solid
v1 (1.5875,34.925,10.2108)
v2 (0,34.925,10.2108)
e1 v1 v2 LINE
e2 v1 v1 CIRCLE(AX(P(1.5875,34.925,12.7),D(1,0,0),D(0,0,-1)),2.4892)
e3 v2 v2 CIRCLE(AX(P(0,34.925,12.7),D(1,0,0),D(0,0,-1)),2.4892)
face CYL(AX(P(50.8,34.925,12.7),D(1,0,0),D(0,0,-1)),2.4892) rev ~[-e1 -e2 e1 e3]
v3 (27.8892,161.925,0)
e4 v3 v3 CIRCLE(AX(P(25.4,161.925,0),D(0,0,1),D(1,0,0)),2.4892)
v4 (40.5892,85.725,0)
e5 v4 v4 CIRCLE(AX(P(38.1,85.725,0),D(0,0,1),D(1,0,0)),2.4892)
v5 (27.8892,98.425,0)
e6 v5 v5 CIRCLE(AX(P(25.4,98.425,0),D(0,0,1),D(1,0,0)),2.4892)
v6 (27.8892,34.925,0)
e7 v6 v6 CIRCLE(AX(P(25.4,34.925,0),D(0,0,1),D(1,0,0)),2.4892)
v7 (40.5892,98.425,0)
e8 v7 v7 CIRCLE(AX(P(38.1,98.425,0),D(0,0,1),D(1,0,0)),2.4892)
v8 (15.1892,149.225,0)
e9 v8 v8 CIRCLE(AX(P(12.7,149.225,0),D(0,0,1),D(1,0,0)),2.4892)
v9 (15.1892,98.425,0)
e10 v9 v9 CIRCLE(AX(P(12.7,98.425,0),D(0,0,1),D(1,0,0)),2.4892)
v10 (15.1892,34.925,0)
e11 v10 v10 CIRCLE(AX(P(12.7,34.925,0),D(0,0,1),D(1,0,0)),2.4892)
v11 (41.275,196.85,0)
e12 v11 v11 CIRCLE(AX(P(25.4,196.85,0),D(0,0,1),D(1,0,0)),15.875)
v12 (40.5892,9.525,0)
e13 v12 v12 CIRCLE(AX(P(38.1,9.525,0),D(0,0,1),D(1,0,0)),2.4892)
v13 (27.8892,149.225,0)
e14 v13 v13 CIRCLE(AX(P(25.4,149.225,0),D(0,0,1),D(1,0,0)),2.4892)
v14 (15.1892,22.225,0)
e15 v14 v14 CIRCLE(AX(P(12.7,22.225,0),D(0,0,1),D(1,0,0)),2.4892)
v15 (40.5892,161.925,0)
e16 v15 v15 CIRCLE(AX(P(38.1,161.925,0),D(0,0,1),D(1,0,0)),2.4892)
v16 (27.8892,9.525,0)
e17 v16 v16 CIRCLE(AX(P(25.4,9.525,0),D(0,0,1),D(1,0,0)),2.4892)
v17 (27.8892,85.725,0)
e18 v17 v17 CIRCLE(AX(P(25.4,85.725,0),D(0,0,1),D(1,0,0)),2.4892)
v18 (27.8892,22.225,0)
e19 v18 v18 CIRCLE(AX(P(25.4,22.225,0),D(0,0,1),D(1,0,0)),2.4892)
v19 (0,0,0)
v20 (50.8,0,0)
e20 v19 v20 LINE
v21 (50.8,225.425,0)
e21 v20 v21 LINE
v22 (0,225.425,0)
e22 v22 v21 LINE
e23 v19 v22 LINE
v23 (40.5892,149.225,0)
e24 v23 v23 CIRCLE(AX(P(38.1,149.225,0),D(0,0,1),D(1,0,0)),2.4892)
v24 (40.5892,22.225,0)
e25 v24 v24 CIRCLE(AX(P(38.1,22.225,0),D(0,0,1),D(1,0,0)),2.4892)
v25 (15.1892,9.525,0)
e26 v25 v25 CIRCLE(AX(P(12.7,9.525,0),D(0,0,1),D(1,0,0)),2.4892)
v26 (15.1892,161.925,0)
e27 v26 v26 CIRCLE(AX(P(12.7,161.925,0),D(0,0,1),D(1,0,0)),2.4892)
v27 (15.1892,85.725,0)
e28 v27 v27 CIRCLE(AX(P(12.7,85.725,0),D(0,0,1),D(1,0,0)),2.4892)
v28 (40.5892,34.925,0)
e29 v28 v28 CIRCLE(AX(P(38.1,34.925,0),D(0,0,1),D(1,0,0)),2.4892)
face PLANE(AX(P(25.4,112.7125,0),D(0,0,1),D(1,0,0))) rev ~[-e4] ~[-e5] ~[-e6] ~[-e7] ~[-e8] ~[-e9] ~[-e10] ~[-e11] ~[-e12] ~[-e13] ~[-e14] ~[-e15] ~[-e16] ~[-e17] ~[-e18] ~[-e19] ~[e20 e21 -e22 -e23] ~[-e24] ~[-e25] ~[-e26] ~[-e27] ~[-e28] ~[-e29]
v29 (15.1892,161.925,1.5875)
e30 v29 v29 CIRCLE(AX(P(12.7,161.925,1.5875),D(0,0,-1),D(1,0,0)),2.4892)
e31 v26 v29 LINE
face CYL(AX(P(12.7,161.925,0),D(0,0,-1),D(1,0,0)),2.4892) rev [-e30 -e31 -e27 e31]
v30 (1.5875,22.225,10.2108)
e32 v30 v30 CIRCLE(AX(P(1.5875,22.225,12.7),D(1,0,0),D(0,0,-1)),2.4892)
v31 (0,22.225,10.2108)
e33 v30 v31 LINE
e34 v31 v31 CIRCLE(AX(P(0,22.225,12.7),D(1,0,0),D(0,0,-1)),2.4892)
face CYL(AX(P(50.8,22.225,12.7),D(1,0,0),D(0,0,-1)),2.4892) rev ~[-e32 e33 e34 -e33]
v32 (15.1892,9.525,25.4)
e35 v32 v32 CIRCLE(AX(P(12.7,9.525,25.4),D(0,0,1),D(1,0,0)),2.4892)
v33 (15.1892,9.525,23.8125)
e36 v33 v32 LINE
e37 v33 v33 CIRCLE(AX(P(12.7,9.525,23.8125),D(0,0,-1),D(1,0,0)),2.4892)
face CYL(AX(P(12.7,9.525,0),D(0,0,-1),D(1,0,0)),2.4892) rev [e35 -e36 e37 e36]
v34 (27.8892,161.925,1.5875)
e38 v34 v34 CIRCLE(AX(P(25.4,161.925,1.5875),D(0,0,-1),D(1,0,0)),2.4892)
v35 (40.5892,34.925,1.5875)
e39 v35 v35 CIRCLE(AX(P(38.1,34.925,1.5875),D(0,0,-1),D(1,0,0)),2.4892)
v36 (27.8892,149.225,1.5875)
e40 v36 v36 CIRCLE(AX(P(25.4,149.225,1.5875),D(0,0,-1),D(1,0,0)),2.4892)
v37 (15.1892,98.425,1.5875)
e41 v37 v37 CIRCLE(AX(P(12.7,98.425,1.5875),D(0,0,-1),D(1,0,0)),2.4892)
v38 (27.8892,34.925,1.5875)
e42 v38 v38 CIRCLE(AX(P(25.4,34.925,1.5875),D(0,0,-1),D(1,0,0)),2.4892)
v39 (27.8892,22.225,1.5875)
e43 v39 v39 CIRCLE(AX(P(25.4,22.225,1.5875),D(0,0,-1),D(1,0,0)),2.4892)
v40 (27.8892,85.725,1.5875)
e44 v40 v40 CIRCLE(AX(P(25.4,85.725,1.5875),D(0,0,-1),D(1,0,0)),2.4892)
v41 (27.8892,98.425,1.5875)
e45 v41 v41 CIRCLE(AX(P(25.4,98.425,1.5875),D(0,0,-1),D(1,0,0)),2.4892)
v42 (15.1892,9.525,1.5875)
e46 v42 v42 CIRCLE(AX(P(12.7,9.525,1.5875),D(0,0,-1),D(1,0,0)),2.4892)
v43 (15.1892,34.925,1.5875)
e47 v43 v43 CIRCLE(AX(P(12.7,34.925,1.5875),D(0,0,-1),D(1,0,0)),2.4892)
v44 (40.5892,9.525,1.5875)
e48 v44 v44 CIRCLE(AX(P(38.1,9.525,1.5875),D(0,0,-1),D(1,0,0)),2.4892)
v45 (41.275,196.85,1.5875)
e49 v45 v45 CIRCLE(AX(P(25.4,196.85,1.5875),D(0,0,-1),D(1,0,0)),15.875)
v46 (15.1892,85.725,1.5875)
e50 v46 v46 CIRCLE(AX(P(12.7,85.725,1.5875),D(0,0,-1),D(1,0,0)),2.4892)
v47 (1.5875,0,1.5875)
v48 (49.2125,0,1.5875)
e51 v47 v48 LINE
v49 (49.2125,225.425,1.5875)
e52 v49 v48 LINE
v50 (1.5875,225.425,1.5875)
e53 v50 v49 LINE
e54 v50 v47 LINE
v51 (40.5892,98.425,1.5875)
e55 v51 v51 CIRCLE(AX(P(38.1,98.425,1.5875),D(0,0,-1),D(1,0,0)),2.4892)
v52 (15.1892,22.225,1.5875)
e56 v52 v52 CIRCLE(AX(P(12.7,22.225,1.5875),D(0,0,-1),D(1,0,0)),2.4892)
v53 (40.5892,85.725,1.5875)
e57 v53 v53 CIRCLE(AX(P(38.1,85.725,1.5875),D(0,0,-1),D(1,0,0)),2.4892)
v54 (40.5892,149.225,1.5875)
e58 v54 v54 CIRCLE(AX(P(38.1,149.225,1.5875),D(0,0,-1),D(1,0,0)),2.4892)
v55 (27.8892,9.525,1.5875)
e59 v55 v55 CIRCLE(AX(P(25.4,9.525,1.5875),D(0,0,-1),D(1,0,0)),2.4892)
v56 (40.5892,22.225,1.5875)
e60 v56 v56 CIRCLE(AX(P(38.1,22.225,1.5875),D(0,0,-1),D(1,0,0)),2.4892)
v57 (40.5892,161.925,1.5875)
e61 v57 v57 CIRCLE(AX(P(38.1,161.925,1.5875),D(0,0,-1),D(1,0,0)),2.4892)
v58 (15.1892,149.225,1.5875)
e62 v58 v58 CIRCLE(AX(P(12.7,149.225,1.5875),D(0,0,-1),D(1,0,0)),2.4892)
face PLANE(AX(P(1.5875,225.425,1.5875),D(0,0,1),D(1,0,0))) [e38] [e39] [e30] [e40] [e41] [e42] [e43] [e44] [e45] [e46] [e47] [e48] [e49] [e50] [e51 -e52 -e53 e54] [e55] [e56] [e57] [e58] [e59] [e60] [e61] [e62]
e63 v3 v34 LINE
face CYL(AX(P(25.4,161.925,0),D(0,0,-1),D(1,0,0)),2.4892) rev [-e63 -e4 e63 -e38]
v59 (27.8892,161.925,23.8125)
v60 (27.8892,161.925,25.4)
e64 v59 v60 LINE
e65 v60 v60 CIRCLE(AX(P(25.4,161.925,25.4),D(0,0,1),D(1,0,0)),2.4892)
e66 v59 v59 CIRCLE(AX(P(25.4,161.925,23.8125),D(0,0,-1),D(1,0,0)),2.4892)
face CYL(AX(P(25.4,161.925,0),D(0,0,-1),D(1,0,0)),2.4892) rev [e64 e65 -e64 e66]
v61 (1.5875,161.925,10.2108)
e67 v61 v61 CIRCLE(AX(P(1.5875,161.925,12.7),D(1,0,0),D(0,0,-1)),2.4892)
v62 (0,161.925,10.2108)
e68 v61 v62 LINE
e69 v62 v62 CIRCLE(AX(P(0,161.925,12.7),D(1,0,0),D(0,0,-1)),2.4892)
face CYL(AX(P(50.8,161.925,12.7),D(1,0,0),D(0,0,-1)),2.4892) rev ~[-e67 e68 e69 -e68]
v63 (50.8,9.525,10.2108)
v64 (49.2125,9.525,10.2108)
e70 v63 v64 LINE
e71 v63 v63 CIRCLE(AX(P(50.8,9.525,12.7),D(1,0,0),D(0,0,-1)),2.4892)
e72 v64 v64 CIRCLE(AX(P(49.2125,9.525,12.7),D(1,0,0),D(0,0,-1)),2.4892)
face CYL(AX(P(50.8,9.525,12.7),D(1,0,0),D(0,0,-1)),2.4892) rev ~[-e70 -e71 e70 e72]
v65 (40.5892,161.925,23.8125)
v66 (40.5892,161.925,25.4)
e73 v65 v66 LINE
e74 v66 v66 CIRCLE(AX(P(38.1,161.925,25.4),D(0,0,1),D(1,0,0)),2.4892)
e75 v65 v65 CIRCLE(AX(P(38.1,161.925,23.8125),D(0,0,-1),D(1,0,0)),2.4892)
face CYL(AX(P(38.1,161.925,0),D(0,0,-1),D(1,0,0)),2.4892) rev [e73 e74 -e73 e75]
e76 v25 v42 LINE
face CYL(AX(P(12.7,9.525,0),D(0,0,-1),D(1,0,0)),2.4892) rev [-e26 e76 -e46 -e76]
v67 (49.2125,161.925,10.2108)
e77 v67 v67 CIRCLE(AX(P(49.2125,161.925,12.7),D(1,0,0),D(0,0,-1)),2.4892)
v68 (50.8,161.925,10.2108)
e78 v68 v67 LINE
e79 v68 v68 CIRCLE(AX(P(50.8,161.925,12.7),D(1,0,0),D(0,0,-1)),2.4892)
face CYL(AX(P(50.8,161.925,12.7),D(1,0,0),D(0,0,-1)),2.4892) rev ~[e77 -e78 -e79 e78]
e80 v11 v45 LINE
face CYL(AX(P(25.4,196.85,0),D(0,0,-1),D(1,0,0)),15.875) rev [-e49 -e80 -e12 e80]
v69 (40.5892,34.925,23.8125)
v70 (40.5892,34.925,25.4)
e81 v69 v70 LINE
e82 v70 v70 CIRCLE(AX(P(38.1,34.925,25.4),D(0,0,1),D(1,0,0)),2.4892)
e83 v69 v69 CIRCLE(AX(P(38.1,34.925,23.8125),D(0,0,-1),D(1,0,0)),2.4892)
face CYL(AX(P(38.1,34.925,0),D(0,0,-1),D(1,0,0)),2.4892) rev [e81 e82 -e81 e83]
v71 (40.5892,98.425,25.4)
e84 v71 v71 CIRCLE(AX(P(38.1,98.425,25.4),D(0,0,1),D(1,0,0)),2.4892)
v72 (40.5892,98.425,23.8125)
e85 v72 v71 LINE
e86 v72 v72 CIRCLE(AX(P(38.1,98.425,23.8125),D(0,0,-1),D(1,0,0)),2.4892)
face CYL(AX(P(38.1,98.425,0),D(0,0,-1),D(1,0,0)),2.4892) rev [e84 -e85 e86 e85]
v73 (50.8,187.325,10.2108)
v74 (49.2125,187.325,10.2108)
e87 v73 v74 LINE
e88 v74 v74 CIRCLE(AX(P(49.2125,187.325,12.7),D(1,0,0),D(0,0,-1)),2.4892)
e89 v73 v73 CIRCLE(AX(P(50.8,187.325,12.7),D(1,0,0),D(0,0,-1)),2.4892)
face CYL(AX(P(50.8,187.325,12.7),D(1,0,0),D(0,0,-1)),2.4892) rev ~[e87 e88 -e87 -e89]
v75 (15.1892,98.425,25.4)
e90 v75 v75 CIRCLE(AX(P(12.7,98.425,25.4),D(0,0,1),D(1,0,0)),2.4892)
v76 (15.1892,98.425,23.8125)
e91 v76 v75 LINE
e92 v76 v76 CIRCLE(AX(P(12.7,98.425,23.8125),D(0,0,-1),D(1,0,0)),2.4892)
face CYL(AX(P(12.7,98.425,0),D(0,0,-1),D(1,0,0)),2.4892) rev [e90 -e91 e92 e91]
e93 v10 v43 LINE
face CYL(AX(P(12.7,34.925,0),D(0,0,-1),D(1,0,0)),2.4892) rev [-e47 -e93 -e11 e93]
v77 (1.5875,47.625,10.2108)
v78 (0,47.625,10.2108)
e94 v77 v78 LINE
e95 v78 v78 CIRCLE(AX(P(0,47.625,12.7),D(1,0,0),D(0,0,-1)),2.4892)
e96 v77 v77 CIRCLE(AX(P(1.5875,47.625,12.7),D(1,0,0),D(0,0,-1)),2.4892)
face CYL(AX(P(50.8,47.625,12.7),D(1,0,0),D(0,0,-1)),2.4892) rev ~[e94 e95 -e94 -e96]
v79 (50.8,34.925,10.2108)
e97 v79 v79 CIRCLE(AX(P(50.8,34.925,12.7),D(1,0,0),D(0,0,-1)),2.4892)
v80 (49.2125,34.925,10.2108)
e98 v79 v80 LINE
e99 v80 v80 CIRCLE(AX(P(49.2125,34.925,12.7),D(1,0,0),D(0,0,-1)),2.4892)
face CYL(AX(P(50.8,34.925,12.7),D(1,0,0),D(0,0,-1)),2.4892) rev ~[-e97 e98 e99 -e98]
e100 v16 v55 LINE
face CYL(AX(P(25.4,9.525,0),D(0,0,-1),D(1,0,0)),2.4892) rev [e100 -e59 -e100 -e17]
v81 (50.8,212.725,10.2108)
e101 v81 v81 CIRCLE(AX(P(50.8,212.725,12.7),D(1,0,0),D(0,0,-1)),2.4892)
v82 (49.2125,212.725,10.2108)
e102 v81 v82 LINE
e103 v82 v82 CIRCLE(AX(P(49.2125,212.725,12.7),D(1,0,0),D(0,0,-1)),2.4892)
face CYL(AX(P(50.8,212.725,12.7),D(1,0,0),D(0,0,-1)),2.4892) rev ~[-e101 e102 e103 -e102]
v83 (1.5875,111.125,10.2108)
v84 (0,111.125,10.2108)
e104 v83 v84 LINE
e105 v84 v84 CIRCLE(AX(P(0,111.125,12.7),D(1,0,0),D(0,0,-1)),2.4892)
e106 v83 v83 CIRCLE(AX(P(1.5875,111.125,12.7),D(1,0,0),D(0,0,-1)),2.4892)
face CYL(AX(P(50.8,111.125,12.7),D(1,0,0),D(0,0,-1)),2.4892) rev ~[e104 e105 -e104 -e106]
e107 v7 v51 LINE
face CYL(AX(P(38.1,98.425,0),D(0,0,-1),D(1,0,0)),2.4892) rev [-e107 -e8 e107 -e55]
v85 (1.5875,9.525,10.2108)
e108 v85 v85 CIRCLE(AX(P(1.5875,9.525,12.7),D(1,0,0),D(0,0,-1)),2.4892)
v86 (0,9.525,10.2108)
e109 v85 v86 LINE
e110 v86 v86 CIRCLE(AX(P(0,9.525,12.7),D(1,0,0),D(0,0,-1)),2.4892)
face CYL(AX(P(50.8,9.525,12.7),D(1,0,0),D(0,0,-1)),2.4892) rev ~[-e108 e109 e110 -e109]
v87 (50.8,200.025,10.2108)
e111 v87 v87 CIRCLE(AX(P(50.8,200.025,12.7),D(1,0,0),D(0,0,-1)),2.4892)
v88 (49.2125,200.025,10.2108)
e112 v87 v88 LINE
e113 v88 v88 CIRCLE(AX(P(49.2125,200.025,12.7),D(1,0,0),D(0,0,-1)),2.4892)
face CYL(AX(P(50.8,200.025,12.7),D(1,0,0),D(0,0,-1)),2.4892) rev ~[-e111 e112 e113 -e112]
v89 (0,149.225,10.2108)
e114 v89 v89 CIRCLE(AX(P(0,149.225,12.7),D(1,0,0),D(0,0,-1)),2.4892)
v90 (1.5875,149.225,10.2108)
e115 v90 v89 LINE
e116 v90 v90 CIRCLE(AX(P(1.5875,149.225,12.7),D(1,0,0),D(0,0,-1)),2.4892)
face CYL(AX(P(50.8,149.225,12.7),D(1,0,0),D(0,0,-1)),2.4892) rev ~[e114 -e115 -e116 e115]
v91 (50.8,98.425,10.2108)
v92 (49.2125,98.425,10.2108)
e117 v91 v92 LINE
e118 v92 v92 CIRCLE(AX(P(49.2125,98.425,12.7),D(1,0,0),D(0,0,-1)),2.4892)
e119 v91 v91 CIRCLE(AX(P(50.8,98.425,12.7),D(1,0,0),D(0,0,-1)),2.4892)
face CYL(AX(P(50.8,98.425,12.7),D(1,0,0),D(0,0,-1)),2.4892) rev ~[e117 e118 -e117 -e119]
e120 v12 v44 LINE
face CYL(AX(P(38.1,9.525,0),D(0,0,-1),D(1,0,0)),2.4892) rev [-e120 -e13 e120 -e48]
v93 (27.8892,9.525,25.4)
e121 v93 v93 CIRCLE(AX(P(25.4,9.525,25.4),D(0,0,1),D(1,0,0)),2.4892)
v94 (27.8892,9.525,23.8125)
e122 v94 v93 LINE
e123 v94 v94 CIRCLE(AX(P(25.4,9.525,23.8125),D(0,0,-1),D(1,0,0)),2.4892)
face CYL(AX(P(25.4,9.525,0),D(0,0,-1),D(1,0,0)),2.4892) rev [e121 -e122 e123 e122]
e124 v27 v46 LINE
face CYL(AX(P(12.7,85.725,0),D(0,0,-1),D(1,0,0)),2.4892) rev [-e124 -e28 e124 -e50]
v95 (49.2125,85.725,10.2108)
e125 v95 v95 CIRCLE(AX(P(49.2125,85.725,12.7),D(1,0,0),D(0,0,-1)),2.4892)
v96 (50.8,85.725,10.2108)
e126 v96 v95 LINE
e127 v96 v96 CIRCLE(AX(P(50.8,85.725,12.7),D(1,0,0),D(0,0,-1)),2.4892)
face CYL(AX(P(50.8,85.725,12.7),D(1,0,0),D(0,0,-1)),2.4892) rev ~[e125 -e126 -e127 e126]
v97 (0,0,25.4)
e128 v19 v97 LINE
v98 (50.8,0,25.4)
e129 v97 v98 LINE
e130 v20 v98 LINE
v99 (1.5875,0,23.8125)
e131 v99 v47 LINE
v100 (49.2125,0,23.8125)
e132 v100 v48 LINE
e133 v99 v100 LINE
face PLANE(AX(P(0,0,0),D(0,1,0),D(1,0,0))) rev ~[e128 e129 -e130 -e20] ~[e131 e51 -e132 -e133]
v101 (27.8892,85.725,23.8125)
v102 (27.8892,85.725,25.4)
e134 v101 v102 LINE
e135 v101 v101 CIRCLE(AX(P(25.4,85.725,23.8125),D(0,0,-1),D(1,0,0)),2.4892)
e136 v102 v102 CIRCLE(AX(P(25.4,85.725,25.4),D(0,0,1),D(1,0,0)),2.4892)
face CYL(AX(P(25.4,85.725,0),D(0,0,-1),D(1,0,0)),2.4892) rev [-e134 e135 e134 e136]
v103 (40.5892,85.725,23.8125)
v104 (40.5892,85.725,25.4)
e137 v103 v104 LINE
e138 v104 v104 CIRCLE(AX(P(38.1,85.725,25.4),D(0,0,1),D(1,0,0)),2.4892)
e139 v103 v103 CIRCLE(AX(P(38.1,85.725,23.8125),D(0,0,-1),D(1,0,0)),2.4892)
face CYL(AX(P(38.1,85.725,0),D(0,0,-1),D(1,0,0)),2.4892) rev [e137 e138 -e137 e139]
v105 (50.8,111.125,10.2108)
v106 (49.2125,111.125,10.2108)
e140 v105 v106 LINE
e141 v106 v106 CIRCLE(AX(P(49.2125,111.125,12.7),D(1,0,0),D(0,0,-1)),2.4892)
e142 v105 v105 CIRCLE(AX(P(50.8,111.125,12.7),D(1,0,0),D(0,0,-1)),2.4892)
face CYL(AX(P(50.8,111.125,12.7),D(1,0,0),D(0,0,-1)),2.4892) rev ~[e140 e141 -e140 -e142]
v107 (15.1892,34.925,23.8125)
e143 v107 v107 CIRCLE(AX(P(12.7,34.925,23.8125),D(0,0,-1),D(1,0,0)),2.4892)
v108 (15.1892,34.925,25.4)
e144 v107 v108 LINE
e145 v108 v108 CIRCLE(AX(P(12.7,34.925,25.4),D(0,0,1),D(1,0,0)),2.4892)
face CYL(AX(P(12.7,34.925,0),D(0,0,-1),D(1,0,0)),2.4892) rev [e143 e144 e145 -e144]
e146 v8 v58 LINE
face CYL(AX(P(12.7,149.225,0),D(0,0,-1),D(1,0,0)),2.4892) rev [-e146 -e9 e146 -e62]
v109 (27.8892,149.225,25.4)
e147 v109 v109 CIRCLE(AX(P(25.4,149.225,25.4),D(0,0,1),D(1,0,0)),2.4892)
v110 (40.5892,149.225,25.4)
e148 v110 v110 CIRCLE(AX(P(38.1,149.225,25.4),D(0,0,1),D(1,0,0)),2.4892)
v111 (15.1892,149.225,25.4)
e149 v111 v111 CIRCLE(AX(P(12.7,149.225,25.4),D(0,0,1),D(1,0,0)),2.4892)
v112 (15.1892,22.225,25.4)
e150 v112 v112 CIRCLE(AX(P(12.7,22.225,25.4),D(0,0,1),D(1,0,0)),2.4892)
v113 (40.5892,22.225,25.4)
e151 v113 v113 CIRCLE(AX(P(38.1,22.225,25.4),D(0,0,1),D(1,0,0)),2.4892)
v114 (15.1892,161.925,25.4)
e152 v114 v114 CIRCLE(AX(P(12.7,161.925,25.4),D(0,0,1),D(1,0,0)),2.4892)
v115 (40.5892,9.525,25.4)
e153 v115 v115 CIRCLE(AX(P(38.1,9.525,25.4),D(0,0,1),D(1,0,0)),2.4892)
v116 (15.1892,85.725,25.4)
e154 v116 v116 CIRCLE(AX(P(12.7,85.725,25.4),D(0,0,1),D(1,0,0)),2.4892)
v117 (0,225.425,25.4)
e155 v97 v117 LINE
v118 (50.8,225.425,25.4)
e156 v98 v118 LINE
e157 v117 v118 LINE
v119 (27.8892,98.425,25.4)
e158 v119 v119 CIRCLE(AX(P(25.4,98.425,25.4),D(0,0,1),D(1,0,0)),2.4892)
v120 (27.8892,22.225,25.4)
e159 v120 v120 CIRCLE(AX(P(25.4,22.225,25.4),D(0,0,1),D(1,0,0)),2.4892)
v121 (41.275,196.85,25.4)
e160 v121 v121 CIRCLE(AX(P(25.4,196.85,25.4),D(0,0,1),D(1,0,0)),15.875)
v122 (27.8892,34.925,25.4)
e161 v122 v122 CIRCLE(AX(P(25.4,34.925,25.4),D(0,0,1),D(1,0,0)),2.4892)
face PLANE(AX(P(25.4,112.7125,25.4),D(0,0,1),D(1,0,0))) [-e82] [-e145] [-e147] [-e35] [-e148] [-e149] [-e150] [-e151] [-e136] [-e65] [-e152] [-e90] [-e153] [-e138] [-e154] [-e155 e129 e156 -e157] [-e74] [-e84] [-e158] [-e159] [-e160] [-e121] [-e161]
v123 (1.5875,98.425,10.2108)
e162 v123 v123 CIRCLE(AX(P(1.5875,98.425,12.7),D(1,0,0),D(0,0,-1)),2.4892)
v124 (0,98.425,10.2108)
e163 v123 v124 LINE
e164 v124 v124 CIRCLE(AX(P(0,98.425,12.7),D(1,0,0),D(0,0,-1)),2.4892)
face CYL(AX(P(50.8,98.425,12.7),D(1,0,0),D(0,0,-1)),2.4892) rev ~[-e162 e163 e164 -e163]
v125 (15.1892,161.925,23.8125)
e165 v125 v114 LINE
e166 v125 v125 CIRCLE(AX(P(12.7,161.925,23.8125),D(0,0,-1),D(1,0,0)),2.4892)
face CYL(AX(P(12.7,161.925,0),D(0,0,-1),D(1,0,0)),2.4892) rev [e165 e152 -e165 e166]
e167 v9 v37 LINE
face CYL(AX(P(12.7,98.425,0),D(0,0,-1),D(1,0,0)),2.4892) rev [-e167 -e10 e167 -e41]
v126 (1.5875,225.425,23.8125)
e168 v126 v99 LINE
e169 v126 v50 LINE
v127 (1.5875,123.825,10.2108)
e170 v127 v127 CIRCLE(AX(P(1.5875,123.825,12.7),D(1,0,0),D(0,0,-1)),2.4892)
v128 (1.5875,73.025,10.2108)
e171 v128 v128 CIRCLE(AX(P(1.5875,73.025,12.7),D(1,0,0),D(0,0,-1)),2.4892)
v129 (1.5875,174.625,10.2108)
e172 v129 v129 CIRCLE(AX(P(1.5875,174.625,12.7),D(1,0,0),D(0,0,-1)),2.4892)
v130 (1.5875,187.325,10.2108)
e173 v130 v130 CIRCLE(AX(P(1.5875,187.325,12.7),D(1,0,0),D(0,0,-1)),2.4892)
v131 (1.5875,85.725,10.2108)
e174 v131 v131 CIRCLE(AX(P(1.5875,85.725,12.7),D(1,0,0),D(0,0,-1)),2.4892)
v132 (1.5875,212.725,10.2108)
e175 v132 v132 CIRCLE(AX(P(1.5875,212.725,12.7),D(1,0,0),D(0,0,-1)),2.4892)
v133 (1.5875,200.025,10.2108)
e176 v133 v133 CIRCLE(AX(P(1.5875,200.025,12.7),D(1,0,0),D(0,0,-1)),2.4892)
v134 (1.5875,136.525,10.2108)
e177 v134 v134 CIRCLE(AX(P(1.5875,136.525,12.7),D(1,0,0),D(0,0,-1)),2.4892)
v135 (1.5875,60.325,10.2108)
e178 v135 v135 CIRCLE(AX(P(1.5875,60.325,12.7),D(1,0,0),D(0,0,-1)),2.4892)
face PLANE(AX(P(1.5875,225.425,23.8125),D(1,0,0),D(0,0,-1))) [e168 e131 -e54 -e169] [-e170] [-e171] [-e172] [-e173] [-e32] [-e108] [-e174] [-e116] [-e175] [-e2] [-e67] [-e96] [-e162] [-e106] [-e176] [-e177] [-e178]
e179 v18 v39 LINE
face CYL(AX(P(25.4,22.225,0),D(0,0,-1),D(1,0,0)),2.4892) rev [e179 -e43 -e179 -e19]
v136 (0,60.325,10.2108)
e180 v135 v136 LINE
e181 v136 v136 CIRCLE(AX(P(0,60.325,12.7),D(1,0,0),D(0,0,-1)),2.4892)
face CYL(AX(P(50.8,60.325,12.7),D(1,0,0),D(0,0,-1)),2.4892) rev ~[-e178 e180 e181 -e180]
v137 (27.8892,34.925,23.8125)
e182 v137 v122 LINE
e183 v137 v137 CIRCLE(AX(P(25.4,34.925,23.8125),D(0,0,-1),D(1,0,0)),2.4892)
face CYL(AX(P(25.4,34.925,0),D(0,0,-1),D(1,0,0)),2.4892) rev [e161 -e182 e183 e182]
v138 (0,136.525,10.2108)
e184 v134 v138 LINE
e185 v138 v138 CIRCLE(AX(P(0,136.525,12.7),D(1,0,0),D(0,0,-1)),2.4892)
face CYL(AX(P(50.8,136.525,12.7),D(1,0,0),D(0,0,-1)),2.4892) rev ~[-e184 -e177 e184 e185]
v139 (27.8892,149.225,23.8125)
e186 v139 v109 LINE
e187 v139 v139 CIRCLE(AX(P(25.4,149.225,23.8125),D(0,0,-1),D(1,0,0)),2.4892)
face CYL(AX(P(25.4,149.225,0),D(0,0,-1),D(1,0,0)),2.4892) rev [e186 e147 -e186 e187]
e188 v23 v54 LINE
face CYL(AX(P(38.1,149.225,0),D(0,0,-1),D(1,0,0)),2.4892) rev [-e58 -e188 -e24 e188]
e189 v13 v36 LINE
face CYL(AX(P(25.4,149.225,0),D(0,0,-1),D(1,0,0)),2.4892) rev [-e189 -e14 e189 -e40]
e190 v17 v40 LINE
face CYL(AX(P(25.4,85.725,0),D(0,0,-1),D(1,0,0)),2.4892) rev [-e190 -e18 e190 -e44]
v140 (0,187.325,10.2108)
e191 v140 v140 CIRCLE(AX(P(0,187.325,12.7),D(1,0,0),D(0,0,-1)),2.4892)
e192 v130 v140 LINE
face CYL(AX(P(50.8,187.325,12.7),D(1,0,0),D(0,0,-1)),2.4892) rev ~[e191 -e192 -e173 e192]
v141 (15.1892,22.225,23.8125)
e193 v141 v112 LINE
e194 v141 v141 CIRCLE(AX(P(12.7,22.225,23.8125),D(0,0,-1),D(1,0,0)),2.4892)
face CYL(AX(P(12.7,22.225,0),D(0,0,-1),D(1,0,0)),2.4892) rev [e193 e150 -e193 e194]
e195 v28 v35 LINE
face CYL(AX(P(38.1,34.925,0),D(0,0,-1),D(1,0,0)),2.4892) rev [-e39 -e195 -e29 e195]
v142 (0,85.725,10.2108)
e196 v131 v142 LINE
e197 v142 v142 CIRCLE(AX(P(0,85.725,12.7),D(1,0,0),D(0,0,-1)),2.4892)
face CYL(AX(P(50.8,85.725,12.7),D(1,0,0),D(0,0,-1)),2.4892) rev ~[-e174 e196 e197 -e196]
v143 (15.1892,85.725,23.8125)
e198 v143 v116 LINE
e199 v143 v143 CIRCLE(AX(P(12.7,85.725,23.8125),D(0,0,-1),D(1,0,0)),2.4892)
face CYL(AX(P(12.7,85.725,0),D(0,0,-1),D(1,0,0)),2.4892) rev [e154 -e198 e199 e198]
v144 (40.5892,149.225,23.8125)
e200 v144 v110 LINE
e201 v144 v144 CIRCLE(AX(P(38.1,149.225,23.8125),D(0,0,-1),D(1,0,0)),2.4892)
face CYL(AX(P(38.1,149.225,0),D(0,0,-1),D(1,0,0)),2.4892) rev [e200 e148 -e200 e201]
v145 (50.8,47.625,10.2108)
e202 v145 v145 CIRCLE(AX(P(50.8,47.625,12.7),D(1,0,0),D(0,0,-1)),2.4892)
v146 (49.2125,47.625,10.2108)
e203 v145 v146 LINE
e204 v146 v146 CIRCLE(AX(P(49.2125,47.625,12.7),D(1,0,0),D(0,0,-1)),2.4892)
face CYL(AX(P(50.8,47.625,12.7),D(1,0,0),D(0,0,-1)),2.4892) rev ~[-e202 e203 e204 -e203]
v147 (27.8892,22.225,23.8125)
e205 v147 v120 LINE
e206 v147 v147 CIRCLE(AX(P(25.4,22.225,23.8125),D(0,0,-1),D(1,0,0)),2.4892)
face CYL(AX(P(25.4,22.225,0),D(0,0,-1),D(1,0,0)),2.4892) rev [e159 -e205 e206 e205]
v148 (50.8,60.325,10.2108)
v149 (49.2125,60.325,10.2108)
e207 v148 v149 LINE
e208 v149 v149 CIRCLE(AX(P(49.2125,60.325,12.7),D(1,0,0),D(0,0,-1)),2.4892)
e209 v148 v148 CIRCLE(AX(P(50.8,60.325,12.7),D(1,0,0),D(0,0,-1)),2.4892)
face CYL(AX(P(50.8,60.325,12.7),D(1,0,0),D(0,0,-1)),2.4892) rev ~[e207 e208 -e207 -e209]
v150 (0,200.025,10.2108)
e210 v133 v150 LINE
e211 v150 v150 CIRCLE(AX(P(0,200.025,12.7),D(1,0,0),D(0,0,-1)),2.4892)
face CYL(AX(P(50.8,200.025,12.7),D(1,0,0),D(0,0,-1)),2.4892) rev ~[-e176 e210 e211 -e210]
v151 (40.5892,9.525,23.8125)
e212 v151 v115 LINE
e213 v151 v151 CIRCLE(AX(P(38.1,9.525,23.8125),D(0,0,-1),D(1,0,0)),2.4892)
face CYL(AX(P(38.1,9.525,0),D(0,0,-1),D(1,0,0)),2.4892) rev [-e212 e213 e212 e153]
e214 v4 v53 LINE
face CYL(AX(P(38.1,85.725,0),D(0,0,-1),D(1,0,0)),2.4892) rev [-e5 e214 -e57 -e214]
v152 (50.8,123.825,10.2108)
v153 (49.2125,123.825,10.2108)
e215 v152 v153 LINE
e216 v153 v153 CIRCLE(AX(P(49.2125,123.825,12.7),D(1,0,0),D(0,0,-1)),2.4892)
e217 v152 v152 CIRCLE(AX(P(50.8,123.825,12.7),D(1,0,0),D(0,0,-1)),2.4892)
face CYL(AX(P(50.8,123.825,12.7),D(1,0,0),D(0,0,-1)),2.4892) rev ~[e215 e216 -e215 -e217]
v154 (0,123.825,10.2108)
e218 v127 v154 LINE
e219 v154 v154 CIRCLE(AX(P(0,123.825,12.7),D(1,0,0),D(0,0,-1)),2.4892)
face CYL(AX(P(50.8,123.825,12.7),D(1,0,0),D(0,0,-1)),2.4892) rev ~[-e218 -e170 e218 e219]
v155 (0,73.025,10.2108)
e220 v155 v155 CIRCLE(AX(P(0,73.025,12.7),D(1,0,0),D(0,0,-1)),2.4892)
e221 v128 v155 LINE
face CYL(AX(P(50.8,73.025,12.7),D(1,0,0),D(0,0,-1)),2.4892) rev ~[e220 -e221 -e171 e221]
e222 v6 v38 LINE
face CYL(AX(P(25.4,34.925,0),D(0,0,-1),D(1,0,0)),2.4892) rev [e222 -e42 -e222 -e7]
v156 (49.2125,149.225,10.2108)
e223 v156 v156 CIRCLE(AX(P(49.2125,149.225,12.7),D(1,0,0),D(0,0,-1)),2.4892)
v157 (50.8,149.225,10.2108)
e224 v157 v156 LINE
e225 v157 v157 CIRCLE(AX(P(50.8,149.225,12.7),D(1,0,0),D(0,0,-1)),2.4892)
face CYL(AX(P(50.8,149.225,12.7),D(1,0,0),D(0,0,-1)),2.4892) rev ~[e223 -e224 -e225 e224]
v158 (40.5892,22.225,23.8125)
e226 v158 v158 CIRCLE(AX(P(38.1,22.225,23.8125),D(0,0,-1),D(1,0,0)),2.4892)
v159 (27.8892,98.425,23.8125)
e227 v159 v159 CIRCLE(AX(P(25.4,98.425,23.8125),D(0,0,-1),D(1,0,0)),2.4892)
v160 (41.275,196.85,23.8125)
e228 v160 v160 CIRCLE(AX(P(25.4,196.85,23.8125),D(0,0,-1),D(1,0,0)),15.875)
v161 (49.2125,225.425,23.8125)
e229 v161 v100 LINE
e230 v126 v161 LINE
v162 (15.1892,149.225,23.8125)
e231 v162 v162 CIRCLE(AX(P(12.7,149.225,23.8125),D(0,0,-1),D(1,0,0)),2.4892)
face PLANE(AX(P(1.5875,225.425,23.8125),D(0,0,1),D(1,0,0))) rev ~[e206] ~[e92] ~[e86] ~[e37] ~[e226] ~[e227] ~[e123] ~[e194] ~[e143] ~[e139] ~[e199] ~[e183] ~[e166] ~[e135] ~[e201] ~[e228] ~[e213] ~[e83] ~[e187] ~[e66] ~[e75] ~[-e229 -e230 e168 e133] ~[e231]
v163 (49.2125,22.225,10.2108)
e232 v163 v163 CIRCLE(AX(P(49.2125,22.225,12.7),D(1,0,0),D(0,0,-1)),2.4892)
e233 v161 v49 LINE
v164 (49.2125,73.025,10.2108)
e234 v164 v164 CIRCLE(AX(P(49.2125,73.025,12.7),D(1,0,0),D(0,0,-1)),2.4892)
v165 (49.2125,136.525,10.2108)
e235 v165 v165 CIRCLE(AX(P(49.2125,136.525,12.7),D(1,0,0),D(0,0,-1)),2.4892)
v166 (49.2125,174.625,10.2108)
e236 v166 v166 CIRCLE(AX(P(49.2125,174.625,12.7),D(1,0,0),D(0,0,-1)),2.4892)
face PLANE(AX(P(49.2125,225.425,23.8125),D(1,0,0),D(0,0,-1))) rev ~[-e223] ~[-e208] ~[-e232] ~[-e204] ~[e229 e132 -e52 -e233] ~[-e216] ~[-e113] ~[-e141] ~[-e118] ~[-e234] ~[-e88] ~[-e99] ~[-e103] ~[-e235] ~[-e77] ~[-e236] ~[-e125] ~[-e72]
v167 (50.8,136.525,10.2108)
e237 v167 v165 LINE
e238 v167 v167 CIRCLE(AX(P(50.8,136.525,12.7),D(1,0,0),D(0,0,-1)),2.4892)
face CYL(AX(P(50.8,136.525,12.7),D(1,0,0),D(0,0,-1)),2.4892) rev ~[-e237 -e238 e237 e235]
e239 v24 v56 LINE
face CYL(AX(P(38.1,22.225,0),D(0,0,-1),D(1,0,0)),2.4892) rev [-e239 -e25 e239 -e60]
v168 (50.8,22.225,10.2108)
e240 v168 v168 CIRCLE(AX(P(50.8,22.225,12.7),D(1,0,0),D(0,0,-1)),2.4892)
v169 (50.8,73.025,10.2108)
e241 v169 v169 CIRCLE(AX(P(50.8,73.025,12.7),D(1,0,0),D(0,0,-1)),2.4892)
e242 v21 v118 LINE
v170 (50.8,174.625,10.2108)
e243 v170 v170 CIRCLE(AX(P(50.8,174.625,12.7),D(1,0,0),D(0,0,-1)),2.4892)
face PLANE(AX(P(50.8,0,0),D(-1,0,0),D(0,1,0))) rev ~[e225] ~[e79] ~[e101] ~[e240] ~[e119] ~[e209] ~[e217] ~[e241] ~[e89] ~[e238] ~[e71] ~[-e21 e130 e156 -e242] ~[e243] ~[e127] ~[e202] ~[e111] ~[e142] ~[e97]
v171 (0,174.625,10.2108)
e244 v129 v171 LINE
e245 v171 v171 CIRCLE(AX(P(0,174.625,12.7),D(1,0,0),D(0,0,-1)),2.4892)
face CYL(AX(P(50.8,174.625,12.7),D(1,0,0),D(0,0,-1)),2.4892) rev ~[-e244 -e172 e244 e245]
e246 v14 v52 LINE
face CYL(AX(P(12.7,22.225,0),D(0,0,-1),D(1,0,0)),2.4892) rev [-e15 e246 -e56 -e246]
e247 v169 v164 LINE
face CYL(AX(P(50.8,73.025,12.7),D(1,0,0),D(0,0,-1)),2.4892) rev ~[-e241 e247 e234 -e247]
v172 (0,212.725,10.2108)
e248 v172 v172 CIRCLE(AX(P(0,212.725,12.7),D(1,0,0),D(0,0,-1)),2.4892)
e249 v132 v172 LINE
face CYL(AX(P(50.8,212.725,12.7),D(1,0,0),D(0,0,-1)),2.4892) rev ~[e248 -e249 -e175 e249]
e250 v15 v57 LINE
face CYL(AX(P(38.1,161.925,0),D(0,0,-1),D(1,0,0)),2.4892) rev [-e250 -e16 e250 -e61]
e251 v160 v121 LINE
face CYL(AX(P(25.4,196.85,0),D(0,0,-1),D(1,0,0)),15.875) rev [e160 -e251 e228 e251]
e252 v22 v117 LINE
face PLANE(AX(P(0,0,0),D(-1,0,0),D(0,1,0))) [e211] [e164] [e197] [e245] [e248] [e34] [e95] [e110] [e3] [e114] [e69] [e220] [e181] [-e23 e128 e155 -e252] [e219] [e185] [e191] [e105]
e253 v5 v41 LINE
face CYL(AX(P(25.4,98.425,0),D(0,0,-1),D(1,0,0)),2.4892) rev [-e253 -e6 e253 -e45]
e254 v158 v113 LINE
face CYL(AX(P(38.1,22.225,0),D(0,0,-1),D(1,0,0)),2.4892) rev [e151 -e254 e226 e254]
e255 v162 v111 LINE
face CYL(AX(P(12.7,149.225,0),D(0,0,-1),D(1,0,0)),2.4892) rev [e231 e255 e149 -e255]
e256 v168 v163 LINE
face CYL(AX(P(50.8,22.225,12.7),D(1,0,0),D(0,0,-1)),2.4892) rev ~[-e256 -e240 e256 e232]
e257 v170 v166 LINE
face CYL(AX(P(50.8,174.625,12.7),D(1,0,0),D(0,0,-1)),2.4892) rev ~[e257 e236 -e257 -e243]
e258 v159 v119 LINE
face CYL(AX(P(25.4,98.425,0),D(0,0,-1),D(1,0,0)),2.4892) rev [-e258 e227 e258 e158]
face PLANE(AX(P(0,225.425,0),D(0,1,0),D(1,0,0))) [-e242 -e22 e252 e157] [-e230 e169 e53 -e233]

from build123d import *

# Parameters (mm, degrees)
SKETCH1_W           = 50.8
SKETCH1_H           = 225.425
SKETCH1_R           = 15.875
SKETCH1_R_2         = 2.4892
BOSS_EXTRUDE1_DEPTH = 25.4
SKETCH2_R           = 2.4892
CUT_EXTRUDE1_DEPTH  = 233.469848851
SKETCH3_W           = 47.625
SKETCH3_H           = 22.225
CUT_EXTRUDE2_DEPTH  = 233.469848884


with BuildPart() as part:
    # Sketch1 → Boss-Extrude1 (new body)
    with BuildSketch(Plane.XY):
        with Locations((25.4, 112.7125)):
            Rectangle(SKETCH1_W, SKETCH1_H)
        with Locations((25.4, 196.85)):
            Circle(SKETCH1_R, mode=Mode.SUBTRACT)
        with Locations((25.4, 9.525)):
            Circle(SKETCH1_R_2, mode=Mode.SUBTRACT)
        with Locations((38.1, 9.525)):
            Circle(SKETCH1_R_2, mode=Mode.SUBTRACT)
        with Locations((12.7, 9.525)):
            Circle(SKETCH1_R_2, mode=Mode.SUBTRACT)
        with Locations((12.7, 22.225)):
            Circle(SKETCH1_R_2, mode=Mode.SUBTRACT)
        with Locations((25.4, 22.225)):
            Circle(SKETCH1_R_2, mode=Mode.SUBTRACT)
        with Locations((38.1, 22.225)):
            Circle(SKETCH1_R_2, mode=Mode.SUBTRACT)
        with Locations((12.7, 34.925)):
            Circle(SKETCH1_R_2, mode=Mode.SUBTRACT)
        with Locations((25.4, 34.925)):
            Circle(SKETCH1_R_2, mode=Mode.SUBTRACT)
        with Locations((38.1, 34.925)):
            Circle(SKETCH1_R_2, mode=Mode.SUBTRACT)
        with Locations((12.7, 85.725)):
            Circle(SKETCH1_R_2, mode=Mode.SUBTRACT)
        with Locations((25.4, 85.725)):
            Circle(SKETCH1_R_2, mode=Mode.SUBTRACT)
        with Locations((38.1, 85.725)):
            Circle(SKETCH1_R_2, mode=Mode.SUBTRACT)
        with Locations((12.7, 98.425)):
            Circle(SKETCH1_R_2, mode=Mode.SUBTRACT)
        with Locations((25.4, 98.425)):
            Circle(SKETCH1_R_2, mode=Mode.SUBTRACT)
        with Locations((38.1, 98.425)):
            Circle(SKETCH1_R_2, mode=Mode.SUBTRACT)
        with Locations((12.7, 149.225)):
            Circle(SKETCH1_R_2, mode=Mode.SUBTRACT)
        with Locations((25.4, 149.225)):
            Circle(SKETCH1_R_2, mode=Mode.SUBTRACT)
        with Locations((38.1, 149.225)):
            Circle(SKETCH1_R_2, mode=Mode.SUBTRACT)
        with Locations((12.7, 161.925)):
            Circle(SKETCH1_R_2, mode=Mode.SUBTRACT)
        with Locations((25.4, 161.925)):
            Circle(SKETCH1_R_2, mode=Mode.SUBTRACT)
        with Locations((38.1, 161.925)):
            Circle(SKETCH1_R_2, mode=Mode.SUBTRACT)
    extrude(amount=BOSS_EXTRUDE1_DEPTH)

    # Sketch2 → Cut-Extrude1 (cut, through all)
    with BuildSketch(Plane(origin=(50.8, 0, 0), x_dir=(0, 0, -1), z_dir=(1, 0, 0))):
        with Locations((-12.7, 9.525)):
            Circle(SKETCH2_R)
        with Locations((-12.7, 22.225)):
            Circle(SKETCH2_R)
        with Locations((-12.7, 34.925)):
            Circle(SKETCH2_R)
        with Locations((-12.7, 47.625)):
            Circle(SKETCH2_R)
        with Locations((-12.7, 60.325)):
            Circle(SKETCH2_R)
        with Locations((-12.7, 73.025)):
            Circle(SKETCH2_R)
        with Locations((-12.7, 85.725)):
            Circle(SKETCH2_R)
        with Locations((-12.7, 98.425)):
            Circle(SKETCH2_R)
        with Locations((-12.7, 111.125)):
            Circle(SKETCH2_R)
        with Locations((-12.7, 123.825)):
            Circle(SKETCH2_R)
        with Locations((-12.7, 136.525)):
            Circle(SKETCH2_R)
        with Locations((-12.7, 149.225)):
            Circle(SKETCH2_R)
        with Locations((-12.7, 161.925)):
            Circle(SKETCH2_R)
        with Locations((-12.7, 174.625)):
            Circle(SKETCH2_R)
        with Locations((-12.7, 187.325)):
            Circle(SKETCH2_R)
        with Locations((-12.7, 200.025)):
            Circle(SKETCH2_R)
        with Locations((-12.7, 212.725)):
            Circle(SKETCH2_R)
    extrude(amount=-CUT_EXTRUDE1_DEPTH, mode=Mode.SUBTRACT)

    # Sketch3 → Cut-Extrude2 (cut, through all)
    with BuildSketch(Plane(origin=(0, 225.425, 0), x_dir=(1, 0, 0), z_dir=(0, 1, 0))):
        with Locations((25.4, -12.7)):
            Rectangle(SKETCH3_W, SKETCH3_H)
    extrude(amount=-CUT_EXTRUDE2_DEPTH, mode=Mode.SUBTRACT)


solid = part.part
